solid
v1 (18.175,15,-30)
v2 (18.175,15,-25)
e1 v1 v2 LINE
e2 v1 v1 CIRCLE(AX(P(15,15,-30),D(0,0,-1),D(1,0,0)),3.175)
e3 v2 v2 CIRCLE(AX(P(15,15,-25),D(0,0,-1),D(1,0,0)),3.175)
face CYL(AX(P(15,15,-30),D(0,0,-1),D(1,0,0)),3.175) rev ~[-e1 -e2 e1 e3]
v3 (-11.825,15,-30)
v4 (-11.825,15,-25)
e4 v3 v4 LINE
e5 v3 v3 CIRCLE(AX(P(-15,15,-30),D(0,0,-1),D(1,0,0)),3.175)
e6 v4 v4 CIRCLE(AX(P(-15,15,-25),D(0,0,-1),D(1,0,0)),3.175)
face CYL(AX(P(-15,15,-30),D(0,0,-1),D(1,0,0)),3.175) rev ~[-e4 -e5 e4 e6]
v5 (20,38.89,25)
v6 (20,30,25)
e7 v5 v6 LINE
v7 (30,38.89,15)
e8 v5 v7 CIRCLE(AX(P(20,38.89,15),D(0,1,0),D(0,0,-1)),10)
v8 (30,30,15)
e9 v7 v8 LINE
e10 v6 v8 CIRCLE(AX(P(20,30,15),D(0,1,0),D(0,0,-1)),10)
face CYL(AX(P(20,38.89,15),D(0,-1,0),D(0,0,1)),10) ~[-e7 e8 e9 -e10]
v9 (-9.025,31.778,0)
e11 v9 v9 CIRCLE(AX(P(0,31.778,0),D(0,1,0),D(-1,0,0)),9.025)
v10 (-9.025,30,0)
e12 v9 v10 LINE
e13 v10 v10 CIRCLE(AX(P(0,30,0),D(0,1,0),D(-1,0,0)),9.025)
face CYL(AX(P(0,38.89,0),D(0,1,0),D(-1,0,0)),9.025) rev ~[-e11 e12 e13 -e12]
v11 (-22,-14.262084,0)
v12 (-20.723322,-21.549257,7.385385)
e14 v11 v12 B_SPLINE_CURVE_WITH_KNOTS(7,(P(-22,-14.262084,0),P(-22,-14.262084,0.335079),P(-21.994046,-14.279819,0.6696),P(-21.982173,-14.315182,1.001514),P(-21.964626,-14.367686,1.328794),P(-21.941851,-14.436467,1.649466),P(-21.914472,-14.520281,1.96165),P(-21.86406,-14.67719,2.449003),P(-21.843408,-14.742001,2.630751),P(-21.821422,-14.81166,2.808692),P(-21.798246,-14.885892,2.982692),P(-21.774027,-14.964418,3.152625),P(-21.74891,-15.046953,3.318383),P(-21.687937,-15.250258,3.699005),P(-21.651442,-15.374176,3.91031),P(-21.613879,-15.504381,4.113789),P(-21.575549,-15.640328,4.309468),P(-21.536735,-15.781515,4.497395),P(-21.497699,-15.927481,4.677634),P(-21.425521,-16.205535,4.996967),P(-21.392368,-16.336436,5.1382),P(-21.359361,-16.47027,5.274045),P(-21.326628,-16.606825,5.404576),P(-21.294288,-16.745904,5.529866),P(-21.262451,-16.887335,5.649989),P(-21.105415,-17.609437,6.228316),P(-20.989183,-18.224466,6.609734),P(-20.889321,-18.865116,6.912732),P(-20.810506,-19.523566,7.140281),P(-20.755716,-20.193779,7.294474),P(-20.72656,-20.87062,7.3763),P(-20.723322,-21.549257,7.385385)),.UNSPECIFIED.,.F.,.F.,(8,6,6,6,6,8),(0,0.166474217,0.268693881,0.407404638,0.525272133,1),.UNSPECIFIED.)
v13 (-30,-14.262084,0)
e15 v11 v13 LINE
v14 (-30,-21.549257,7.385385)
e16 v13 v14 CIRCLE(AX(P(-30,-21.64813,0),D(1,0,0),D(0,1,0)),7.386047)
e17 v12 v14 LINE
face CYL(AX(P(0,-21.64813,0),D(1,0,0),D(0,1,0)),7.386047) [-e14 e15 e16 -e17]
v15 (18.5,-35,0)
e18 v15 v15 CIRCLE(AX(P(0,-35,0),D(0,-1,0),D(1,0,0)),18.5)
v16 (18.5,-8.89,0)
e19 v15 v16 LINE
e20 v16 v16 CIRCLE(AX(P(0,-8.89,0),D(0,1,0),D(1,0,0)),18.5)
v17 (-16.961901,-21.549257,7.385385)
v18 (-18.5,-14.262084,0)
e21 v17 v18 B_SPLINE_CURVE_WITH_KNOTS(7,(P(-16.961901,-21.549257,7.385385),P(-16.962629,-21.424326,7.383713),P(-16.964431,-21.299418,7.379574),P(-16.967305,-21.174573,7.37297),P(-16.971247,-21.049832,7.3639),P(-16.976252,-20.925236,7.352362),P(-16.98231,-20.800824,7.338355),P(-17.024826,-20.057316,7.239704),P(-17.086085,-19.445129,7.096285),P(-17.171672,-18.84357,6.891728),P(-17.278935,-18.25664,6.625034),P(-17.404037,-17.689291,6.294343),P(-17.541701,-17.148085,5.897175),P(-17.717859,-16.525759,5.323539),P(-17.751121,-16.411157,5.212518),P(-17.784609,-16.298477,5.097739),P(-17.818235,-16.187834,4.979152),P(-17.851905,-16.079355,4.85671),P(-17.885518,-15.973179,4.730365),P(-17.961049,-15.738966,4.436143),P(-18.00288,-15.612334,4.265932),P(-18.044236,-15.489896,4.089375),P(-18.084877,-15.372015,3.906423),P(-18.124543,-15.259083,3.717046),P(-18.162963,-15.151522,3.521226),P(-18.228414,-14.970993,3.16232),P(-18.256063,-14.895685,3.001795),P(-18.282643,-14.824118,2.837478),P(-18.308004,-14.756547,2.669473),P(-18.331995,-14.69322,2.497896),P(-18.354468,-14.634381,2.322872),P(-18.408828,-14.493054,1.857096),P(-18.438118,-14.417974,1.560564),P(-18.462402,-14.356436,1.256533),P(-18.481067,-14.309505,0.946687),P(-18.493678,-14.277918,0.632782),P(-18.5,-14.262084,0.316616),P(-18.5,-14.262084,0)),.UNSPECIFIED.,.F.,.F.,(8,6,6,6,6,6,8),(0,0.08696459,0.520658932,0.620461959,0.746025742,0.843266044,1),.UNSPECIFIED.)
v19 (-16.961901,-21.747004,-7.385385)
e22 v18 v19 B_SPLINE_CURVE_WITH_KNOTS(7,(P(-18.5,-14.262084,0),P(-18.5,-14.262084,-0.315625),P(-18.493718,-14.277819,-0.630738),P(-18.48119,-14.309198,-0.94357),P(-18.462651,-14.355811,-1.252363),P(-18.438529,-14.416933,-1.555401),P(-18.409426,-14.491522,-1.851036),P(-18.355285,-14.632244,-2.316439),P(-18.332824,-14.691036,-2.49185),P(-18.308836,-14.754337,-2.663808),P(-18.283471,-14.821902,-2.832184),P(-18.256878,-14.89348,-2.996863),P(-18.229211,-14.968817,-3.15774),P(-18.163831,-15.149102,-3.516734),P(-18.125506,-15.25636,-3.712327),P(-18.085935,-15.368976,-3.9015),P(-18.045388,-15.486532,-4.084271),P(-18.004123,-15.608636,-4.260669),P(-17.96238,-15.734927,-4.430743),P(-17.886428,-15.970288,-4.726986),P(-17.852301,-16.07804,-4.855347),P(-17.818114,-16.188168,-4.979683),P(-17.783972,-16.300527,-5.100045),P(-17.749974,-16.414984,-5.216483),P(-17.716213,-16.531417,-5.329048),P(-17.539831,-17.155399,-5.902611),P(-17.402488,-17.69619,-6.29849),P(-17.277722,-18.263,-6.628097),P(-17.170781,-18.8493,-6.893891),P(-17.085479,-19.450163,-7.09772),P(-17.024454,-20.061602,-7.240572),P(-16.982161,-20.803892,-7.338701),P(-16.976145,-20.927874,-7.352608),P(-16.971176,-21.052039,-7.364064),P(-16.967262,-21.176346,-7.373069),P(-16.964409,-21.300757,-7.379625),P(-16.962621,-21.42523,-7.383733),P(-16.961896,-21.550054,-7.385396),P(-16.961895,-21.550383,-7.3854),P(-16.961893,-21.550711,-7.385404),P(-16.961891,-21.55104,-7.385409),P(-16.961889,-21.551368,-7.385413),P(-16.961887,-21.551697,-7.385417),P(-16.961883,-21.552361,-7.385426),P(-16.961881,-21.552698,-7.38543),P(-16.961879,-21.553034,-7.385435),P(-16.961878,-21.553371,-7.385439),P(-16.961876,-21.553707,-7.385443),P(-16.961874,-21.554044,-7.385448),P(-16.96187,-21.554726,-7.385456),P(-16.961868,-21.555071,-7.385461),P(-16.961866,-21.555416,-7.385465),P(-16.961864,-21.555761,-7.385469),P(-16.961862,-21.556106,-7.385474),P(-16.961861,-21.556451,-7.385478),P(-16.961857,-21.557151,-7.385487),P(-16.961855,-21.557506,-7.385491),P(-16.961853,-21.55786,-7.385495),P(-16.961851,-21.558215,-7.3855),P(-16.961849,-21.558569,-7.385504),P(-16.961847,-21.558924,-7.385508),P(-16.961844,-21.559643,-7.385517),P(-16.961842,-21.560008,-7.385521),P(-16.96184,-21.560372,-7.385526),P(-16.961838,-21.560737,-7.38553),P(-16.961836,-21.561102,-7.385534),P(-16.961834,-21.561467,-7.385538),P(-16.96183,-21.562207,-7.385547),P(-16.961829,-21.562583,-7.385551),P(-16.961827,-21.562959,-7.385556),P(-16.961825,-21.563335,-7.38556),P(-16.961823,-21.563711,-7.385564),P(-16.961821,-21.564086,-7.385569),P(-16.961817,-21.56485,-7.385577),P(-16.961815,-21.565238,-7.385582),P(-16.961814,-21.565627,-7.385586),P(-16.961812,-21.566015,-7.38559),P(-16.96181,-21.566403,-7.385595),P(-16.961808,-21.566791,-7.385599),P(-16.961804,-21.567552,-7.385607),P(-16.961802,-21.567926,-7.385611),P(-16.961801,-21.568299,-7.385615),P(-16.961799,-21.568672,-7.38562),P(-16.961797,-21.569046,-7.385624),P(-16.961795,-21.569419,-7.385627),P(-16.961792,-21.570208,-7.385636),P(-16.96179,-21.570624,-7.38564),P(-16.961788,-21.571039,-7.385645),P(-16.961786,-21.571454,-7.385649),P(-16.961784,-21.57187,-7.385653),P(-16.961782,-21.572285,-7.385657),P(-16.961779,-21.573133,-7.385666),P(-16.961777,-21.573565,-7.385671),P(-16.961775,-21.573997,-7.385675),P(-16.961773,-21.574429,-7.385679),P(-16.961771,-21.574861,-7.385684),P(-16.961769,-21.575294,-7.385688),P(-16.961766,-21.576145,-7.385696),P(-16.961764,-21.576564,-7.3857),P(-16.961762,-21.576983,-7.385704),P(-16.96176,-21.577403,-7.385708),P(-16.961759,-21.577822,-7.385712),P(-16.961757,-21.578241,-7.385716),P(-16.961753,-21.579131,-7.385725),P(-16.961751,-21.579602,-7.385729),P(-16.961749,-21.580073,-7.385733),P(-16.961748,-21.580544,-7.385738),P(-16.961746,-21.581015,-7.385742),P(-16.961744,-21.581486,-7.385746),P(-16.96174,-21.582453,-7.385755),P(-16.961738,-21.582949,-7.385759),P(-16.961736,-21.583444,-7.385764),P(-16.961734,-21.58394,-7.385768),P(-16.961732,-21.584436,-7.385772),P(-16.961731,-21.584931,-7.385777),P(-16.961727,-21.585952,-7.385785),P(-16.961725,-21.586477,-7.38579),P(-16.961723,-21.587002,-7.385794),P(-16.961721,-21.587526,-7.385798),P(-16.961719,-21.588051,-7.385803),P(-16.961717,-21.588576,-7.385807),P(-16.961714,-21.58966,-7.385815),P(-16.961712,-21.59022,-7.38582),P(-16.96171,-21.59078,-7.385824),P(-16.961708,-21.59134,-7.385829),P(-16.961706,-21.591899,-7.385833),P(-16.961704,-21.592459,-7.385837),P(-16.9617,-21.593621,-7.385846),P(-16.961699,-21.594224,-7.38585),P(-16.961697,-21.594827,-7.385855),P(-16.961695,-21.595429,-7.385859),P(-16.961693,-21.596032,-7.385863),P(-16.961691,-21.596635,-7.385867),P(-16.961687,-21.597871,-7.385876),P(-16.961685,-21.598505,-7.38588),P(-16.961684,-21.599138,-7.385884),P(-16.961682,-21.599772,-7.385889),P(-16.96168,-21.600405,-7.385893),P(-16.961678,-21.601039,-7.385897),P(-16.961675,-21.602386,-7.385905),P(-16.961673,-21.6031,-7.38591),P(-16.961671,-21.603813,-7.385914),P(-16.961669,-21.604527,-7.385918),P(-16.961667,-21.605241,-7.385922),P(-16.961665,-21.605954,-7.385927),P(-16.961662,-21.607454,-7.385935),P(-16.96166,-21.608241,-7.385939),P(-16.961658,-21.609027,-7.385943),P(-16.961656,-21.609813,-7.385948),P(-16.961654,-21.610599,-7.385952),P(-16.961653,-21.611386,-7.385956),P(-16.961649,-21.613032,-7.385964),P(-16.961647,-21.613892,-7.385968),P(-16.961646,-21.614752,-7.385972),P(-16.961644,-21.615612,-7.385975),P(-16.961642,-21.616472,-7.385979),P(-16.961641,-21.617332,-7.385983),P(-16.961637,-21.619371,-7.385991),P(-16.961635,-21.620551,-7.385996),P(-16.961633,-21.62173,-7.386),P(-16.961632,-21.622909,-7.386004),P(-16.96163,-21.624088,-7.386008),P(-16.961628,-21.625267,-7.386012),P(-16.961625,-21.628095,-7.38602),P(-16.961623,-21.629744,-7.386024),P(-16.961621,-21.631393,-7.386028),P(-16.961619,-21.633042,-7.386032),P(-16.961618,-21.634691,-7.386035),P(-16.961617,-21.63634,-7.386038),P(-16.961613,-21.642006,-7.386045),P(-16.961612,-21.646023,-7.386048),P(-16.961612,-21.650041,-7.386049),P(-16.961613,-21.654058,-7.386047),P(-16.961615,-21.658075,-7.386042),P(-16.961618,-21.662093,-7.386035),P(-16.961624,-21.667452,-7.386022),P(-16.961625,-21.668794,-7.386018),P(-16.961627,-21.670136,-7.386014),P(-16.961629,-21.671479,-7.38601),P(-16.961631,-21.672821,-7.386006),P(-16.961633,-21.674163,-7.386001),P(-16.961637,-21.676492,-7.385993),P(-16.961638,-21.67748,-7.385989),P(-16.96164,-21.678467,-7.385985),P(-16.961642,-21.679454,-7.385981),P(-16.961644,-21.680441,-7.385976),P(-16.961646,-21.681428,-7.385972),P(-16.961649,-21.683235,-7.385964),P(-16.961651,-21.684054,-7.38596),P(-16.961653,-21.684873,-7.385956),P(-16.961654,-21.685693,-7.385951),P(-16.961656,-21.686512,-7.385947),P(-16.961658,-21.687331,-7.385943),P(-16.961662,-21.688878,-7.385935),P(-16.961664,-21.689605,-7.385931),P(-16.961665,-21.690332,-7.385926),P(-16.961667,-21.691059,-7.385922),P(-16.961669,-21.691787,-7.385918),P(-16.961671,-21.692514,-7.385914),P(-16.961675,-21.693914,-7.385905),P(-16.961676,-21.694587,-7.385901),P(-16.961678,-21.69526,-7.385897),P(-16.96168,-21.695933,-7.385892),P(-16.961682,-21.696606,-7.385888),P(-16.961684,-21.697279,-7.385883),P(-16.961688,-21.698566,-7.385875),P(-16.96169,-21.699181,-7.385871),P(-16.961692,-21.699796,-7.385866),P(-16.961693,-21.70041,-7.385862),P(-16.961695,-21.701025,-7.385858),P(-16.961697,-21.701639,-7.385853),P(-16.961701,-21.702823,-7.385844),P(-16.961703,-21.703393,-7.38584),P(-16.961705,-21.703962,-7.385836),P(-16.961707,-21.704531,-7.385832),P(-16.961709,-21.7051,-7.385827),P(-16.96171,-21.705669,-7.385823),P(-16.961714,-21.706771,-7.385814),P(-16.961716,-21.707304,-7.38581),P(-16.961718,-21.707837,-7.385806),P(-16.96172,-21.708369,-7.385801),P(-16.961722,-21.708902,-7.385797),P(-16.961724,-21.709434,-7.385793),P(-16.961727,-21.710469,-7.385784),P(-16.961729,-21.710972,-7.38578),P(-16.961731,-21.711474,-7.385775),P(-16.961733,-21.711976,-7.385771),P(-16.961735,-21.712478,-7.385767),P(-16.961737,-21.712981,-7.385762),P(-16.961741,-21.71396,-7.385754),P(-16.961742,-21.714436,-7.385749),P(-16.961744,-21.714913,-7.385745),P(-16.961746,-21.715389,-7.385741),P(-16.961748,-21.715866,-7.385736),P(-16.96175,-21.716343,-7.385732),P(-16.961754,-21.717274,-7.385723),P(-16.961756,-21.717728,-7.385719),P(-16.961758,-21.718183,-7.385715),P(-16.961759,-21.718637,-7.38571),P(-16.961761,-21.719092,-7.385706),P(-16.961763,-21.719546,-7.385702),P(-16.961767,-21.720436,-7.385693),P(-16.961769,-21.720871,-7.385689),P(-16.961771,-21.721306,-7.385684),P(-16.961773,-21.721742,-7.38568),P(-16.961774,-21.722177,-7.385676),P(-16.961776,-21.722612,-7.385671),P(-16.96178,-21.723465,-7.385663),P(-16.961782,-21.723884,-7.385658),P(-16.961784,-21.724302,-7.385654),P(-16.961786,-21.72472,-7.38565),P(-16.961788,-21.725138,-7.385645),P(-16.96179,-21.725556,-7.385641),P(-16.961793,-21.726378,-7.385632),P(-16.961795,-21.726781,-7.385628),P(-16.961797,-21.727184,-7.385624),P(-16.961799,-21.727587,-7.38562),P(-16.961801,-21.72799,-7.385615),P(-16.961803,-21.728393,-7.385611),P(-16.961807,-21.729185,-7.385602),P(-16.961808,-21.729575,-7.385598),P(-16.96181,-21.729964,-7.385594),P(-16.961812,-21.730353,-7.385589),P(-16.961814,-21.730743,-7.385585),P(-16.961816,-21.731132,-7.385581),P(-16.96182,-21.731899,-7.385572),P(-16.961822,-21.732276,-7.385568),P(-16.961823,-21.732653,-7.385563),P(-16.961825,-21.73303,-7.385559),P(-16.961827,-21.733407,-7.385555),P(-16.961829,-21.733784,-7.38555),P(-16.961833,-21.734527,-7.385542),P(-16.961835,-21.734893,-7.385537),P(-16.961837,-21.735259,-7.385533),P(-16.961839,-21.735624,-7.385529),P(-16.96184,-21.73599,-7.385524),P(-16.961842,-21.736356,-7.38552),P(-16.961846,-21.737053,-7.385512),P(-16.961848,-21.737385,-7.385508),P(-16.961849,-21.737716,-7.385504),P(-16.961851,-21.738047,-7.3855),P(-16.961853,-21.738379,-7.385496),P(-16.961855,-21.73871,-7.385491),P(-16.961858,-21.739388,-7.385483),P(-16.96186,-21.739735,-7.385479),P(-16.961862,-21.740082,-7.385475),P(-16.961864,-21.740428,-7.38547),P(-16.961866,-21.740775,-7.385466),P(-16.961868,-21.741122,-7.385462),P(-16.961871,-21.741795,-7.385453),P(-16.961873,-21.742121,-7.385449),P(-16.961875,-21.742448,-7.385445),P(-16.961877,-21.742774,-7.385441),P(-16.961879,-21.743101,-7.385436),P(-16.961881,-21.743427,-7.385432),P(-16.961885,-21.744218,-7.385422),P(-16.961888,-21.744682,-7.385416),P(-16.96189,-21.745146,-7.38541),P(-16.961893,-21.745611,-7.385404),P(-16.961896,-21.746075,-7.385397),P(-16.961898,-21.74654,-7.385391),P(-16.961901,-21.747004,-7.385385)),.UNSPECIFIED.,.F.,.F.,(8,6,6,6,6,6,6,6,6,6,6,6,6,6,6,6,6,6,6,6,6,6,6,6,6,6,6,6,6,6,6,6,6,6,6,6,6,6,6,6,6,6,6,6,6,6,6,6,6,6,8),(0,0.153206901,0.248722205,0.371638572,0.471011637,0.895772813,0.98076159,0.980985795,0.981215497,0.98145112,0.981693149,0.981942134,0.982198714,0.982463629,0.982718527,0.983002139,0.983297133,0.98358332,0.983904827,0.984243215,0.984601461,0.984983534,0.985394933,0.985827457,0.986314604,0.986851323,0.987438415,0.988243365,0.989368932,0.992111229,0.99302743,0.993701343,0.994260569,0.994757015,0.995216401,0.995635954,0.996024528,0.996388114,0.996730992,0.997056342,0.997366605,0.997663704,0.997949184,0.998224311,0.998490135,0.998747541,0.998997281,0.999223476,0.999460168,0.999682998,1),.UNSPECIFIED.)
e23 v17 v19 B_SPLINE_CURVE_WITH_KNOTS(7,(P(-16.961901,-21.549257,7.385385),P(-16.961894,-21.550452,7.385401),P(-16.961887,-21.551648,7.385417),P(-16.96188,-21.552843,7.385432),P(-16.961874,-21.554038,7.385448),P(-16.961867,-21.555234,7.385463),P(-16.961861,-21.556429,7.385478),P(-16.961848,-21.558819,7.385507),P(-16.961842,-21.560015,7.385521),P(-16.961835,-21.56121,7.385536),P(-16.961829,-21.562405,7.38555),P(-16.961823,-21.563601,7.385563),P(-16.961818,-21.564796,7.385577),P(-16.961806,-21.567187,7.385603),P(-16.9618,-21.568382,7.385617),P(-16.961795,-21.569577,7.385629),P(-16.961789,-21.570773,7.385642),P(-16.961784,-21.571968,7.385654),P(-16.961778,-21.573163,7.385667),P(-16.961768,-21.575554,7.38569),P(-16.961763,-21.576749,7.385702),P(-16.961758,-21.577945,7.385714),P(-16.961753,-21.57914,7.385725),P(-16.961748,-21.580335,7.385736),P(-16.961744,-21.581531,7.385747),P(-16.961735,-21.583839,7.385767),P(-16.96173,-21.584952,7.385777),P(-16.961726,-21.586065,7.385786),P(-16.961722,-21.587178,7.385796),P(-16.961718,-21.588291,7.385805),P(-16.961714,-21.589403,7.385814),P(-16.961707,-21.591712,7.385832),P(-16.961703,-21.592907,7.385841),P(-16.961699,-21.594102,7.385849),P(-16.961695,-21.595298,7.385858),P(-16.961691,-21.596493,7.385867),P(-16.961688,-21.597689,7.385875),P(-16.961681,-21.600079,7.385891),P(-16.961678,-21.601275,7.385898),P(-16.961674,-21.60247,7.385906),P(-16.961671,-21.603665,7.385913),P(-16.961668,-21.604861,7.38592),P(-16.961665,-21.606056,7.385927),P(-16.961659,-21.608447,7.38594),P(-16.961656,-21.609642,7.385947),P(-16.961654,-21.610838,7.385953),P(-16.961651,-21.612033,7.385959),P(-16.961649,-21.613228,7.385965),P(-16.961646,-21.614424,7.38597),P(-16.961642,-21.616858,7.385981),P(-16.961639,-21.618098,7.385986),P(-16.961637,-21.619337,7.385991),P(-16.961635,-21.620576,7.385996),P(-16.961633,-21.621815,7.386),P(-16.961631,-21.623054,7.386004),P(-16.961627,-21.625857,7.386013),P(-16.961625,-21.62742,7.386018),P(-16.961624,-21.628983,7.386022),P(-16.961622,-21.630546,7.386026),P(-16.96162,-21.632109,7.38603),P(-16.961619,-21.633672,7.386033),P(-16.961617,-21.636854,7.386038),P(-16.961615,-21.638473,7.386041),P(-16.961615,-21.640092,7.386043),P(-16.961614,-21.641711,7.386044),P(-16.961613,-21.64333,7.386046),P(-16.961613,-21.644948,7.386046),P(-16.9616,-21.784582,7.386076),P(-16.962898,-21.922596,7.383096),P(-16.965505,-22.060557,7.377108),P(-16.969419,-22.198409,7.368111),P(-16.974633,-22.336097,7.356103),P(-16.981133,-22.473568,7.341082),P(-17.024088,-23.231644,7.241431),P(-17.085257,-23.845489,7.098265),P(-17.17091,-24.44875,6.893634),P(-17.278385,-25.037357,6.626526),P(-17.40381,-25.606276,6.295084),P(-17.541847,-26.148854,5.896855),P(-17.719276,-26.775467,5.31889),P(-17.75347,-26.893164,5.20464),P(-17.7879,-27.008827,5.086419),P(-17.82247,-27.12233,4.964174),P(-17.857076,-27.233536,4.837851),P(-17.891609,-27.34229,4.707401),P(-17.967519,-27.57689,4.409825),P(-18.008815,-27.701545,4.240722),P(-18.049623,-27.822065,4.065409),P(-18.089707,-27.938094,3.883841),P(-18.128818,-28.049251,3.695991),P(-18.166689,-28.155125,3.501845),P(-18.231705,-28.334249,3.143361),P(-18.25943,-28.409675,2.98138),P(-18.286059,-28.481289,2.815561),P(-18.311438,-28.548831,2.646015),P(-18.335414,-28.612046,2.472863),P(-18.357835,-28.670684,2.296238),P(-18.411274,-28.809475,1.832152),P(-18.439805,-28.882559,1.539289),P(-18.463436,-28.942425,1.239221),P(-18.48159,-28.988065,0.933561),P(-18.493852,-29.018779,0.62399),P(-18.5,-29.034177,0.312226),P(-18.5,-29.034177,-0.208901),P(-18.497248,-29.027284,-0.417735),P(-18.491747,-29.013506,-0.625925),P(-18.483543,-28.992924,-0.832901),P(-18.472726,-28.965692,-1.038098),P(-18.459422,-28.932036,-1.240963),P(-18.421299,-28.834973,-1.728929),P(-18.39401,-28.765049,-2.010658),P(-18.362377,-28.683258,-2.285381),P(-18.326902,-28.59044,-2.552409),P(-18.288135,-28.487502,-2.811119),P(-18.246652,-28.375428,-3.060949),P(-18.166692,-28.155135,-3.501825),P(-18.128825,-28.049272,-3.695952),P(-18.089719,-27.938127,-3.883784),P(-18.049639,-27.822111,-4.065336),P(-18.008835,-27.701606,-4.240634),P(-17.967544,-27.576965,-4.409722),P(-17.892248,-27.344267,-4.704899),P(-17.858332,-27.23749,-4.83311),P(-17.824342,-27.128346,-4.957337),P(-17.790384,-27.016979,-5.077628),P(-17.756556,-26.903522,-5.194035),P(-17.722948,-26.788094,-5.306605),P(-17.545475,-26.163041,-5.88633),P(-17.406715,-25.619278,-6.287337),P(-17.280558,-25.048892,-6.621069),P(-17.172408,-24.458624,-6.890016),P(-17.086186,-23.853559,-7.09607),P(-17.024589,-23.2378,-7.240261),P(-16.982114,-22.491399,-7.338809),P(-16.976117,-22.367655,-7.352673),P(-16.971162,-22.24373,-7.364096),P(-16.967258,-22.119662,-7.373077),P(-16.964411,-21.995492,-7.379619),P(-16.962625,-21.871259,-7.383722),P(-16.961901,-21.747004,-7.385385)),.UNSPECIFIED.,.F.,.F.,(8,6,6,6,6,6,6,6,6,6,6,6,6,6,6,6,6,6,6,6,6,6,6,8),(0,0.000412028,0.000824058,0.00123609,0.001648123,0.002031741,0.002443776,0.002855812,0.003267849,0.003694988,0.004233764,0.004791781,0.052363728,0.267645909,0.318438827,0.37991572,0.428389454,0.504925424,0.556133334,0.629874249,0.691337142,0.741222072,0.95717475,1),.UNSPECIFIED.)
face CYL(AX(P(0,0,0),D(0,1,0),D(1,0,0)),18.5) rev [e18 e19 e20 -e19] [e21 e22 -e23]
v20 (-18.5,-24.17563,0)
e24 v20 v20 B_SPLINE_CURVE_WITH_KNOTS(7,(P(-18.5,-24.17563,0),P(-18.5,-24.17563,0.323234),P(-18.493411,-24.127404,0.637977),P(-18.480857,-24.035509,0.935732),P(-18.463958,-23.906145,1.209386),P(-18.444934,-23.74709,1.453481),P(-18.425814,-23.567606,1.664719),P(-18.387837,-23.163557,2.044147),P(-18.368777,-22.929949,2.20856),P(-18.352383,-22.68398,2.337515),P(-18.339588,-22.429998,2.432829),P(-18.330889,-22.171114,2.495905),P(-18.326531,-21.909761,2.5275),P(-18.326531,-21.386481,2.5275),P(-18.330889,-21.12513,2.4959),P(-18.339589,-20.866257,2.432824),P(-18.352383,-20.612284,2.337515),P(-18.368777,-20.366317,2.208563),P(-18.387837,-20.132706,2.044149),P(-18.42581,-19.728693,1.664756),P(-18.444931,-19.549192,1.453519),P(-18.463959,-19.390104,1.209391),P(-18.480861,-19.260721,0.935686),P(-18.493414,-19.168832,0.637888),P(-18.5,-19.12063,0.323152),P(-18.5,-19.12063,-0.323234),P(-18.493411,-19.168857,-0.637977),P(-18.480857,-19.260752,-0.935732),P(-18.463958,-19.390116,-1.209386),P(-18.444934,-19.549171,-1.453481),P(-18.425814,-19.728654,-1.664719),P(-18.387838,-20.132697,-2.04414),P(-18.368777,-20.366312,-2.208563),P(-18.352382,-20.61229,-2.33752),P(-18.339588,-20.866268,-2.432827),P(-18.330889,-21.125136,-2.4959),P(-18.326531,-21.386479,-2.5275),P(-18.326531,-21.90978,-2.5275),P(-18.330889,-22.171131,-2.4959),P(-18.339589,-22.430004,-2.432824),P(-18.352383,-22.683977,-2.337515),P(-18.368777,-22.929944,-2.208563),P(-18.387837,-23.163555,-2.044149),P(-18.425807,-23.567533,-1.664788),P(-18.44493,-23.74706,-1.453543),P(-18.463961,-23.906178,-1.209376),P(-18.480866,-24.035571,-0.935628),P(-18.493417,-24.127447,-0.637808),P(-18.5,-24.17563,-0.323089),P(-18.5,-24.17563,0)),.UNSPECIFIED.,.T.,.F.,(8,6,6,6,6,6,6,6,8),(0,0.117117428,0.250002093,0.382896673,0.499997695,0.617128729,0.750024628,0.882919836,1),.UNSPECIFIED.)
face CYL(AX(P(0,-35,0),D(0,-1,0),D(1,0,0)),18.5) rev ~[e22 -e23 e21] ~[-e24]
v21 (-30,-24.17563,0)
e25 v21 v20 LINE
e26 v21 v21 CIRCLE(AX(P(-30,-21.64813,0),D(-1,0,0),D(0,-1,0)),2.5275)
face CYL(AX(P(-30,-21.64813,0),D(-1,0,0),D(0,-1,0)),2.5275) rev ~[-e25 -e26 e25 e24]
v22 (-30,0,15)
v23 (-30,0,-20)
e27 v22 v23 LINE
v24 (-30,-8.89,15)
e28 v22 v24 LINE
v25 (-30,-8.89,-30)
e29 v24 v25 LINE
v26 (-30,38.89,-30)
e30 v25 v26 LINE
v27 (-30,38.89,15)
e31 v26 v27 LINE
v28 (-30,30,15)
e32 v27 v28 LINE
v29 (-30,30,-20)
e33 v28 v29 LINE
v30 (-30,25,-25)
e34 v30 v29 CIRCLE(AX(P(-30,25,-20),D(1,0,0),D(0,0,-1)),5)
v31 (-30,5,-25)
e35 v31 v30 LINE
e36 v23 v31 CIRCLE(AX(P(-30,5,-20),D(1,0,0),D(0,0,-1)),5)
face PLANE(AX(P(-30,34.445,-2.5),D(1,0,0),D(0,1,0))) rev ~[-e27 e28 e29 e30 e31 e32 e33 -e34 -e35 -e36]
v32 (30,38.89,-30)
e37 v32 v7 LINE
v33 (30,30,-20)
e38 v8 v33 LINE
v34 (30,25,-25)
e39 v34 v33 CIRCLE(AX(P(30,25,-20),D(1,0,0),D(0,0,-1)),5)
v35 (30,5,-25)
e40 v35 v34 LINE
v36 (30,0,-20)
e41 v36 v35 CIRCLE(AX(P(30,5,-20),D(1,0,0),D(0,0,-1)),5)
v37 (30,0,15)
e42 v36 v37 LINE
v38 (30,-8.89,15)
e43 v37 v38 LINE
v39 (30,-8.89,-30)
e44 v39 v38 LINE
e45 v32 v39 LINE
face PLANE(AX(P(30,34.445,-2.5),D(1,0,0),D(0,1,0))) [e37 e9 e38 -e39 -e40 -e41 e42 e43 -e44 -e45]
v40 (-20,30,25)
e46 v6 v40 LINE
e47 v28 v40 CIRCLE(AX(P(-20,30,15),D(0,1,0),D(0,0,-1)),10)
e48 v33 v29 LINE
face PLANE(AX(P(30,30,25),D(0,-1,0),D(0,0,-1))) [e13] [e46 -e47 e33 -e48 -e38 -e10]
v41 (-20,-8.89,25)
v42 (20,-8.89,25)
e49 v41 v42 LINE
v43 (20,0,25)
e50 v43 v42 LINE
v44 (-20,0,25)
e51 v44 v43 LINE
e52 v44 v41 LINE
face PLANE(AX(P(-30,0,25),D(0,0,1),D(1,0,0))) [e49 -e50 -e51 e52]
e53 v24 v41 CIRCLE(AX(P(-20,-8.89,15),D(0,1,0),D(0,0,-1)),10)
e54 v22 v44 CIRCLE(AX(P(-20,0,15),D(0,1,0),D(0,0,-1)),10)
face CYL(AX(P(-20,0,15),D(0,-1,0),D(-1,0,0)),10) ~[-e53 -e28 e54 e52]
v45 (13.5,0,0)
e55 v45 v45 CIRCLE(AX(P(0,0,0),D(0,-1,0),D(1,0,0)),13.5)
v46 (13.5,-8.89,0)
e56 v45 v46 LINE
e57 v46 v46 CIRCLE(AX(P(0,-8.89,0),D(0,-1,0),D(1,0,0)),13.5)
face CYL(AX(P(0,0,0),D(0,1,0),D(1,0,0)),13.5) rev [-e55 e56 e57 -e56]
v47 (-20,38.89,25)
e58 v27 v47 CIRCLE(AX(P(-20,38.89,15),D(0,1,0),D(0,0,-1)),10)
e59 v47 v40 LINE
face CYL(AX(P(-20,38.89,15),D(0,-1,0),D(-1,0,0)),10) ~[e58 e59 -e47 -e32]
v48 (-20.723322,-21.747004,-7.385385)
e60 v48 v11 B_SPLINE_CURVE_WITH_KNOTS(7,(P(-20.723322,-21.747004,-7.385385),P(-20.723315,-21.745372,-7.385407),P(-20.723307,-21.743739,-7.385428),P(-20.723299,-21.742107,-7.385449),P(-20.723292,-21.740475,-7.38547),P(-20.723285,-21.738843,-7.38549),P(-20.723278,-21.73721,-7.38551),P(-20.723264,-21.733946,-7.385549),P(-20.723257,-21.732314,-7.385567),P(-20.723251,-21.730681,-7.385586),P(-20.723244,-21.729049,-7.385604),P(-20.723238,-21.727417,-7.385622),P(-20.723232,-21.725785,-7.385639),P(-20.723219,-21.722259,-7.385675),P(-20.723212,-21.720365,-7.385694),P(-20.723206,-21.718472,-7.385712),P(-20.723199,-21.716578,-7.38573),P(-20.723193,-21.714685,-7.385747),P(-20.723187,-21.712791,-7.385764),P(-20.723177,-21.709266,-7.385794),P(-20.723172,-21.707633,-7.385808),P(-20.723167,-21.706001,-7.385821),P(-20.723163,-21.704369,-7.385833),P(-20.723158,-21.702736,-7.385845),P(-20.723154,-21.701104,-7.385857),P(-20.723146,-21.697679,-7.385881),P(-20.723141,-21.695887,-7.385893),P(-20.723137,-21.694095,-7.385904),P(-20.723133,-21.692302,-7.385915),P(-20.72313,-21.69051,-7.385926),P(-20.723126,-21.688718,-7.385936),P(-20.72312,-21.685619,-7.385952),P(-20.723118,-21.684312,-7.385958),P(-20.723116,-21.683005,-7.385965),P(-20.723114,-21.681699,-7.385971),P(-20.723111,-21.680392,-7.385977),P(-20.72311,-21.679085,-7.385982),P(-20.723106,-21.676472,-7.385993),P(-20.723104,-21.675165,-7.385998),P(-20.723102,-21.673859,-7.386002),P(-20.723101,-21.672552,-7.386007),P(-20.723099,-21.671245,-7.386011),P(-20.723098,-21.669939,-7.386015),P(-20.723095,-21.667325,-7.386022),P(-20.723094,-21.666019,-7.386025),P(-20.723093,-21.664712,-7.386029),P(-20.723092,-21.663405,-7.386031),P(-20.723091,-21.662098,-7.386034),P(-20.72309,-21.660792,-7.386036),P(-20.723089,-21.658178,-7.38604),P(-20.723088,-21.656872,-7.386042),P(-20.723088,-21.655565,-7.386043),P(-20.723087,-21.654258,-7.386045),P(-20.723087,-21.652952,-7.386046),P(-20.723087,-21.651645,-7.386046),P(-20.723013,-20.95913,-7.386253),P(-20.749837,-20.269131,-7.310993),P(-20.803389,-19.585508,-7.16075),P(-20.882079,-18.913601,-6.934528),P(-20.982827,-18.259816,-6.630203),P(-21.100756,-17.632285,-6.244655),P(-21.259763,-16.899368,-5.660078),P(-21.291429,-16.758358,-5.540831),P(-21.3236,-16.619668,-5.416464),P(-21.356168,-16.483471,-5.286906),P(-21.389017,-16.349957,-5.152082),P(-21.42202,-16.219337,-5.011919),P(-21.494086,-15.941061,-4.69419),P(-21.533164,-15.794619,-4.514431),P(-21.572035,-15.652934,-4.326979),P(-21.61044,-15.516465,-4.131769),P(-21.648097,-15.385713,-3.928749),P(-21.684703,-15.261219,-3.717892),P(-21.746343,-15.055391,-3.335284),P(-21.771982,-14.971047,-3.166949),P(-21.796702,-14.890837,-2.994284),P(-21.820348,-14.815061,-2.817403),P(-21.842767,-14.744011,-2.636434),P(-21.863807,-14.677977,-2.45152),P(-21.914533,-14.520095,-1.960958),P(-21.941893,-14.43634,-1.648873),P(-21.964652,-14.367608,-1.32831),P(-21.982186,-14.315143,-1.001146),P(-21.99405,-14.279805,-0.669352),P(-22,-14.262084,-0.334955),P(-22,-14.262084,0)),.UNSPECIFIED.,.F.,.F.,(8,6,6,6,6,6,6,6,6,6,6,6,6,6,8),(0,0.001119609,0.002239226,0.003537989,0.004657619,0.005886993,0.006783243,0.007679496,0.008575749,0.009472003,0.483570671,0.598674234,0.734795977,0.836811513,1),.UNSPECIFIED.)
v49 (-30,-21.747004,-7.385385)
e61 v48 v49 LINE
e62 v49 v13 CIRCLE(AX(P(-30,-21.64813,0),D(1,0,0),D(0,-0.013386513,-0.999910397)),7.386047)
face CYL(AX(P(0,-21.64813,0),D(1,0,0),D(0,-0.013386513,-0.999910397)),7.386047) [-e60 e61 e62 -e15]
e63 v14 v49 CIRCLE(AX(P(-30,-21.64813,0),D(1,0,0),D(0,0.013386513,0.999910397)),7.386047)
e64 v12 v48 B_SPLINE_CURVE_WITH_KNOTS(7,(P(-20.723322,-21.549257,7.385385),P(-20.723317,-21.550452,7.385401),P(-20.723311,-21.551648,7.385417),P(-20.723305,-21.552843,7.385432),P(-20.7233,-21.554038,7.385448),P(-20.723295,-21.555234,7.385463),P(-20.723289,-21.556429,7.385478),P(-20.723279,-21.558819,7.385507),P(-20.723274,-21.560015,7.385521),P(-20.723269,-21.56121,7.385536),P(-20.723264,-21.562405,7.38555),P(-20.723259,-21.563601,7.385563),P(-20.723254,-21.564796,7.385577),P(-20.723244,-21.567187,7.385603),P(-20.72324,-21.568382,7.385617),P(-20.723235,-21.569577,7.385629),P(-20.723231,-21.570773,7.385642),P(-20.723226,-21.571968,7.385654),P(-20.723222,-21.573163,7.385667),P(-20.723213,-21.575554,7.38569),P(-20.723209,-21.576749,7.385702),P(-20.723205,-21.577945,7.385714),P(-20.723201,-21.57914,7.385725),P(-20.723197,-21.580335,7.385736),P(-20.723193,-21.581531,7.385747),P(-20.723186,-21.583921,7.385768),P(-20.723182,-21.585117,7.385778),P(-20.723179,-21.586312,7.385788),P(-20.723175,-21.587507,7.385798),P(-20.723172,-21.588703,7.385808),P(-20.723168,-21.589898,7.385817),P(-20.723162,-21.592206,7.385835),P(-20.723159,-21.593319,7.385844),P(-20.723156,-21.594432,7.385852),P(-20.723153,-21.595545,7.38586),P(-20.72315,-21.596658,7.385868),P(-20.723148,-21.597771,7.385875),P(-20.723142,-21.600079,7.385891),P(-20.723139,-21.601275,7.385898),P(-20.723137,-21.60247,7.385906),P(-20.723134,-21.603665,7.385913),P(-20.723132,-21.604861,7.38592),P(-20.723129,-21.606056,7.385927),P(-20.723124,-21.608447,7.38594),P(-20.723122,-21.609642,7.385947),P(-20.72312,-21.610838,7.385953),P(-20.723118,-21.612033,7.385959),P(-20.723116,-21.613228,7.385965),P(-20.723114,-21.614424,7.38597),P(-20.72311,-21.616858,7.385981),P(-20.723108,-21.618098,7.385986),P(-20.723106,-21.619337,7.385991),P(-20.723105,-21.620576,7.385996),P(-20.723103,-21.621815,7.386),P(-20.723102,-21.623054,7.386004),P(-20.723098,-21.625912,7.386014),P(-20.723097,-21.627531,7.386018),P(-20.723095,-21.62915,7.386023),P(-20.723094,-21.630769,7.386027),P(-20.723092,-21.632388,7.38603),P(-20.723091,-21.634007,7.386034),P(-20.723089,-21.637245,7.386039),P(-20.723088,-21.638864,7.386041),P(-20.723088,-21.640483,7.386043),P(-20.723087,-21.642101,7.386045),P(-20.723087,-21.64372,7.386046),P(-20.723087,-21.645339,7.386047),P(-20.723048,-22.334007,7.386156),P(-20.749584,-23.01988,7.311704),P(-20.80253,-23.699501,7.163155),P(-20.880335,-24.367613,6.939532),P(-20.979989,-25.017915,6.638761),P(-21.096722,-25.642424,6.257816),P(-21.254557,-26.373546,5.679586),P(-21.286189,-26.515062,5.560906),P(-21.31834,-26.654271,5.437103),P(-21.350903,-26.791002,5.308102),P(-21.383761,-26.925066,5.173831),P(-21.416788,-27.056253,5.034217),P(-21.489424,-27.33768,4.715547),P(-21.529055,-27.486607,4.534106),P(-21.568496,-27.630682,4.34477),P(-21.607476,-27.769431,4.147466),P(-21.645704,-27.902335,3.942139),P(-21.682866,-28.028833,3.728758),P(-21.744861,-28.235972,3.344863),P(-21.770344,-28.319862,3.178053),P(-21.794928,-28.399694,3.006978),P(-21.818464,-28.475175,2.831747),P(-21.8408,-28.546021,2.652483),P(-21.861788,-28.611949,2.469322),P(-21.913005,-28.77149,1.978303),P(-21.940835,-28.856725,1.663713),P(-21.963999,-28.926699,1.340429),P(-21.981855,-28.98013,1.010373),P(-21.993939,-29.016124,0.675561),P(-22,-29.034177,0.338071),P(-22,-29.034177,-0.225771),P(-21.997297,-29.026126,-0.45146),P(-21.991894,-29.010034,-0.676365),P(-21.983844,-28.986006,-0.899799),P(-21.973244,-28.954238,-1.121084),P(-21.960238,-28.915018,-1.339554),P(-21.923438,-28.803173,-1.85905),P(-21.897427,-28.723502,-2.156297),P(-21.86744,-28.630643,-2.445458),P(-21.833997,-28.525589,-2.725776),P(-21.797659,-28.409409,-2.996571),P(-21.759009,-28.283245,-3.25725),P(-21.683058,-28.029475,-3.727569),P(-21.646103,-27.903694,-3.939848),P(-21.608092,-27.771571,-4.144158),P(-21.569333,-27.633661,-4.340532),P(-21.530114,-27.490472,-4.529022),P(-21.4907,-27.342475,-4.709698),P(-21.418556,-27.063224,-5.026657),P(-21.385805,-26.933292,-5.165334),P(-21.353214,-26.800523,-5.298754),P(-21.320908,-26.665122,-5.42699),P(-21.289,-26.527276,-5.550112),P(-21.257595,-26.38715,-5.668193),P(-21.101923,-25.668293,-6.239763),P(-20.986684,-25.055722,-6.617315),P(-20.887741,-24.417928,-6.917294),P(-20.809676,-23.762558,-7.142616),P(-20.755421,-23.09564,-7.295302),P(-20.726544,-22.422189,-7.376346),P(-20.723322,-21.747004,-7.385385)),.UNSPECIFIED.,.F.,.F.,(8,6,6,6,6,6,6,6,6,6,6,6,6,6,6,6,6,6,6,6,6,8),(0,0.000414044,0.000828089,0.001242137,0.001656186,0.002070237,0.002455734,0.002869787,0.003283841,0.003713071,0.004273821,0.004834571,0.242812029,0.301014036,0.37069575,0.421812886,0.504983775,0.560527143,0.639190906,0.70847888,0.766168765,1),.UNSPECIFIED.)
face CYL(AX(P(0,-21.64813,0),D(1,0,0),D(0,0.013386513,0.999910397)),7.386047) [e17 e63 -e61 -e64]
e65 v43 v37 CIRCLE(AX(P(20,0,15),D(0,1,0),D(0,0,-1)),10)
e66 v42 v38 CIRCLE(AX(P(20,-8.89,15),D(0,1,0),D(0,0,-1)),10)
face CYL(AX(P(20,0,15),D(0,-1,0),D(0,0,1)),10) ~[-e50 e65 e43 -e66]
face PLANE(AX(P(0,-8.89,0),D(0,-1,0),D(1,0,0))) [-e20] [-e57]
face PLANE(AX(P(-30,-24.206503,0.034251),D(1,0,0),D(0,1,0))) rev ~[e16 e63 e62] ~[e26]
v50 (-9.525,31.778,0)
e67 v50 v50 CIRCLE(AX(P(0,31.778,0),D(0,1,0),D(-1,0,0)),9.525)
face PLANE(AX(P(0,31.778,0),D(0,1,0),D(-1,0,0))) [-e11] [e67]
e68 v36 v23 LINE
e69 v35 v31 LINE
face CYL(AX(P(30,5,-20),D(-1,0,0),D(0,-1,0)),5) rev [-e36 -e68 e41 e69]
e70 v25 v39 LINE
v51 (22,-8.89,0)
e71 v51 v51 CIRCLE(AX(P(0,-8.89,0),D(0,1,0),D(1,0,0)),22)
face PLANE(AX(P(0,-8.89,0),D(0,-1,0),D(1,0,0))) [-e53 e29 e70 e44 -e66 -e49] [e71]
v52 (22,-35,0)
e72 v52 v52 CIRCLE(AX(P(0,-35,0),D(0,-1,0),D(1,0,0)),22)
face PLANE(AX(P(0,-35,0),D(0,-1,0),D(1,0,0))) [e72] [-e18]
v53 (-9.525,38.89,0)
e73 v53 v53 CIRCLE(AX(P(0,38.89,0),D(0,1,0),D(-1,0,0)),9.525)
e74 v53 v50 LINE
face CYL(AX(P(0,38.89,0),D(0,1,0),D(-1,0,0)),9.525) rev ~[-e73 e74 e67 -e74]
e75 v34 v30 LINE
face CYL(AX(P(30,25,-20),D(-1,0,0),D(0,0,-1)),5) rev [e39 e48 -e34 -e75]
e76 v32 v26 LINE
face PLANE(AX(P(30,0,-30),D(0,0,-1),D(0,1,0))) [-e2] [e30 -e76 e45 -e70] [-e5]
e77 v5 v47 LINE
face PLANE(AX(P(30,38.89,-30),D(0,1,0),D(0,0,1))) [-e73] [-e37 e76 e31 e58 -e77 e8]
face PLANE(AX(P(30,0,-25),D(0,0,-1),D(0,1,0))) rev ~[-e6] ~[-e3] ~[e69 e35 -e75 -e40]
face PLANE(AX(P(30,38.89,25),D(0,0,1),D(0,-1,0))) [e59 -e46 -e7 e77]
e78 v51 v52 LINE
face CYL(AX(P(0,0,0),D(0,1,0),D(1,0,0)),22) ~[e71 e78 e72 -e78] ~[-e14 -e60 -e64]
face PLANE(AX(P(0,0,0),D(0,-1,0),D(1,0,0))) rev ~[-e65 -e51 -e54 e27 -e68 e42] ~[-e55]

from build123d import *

# Parameters (mm, degrees)
F0_W      = 60
F0_H      = 50
F0_R      = 22
F0_R_2    = 18.5
F0_R_3    = 13.5
F0_H_2    = 5
F1_DEPTH  = 8.89
F2_DEPTH  = 35
F3_W      = 30
F3_H      = 5
F4_DEPTH  = 60
F5_R      = 5
F6_R      = 9.025
F7_DEPTH  = 7.112
F8_DEPTH  = 25
F6_R_2    = 9.525
F9_DEPTH  = 7.112
F10_R     = 10
F12_DEPTH = 30
F13_R     = 18.5
F14_DEPTH = 22
F15_R     = 2.5275
F16_DEPTH = 13
F17_R     = 3.175
F18_DEPTH = 25


with BuildPart() as f1:
    # F0 (on Front) → F1 (new body)
    with BuildSketch(Plane.XZ):
        Rectangle(F0_W, F0_H)
        Circle(F0_R, mode=Mode.SUBTRACT)
        Circle(F0_R)
        Circle(F0_R_2, mode=Mode.SUBTRACT)
        Circle(F0_R_2)
        Circle(F0_R_3, mode=Mode.SUBTRACT)
        with Locations((0, -27.5)):
            Rectangle(F0_W, F0_H_2)
    extrude(amount=F1_DEPTH)

    # F0 (on Front) → F2 (join)
    with BuildSketch(Plane.XZ):
        Circle(F0_R)
        Circle(F0_R_2, mode=Mode.SUBTRACT)
    extrude(amount=F2_DEPTH)

    # F3 (on face) → F4 (join)
    with BuildSketch(Plane.YZ.offset(30)):
        Polygon((30, -25), (30, -30), (38.89, -30), (38.89, 25), (30, 25), align=None)
        with Locations((15, -27.5)):
            Rectangle(F3_W, F3_H)
    extrude(amount=-F4_DEPTH)

    # F5
    f5_edges = [f1.edges().sort_by_distance(p)[0] for p in [
        (0, 30, -25),
        (0, 0, -25),
    ]]
    fillet(f5_edges, radius=F5_R)

    # F6 (on face) → F7 (cut)
    with BuildSketch(Plane(origin=(0, 38.89, 0), x_dir=(-1, 0, 0), z_dir=(0, 1, 0))):
        Circle(F6_R)
    extrude(amount=-F7_DEPTH, mode=Mode.SUBTRACT)

    # F6 (on face) → F8 (cut)
    with BuildSketch(Plane(origin=(0, 38.89, 0), x_dir=(-1, 0, 0), z_dir=(0, 1, 0))):
        Circle(F6_R)
    extrude(amount=-F8_DEPTH, mode=Mode.SUBTRACT)

    # F6 (on face) → F9 (cut)
    with BuildSketch(Plane(origin=(0, 38.89, 0), x_dir=(-1, 0, 0), z_dir=(0, 1, 0))):
        Circle(F6_R_2)
        Circle(F6_R, mode=Mode.SUBTRACT)
    extrude(amount=-F9_DEPTH, mode=Mode.SUBTRACT)

    # F10
    f10_edges = [f1.edges().sort_by_distance(p)[0] for p in [
        (30, -4.445, 25),
        (30, 34.445, 25),
        (-30, -4.445, 25),
        (-30, 34.445, 25),
    ]]
    fillet(f10_edges, radius=F10_R)

    # F11 (on Right) → F12 (join)
    with BuildSketch(Plane.YZ):
        with BuildLine():
            ThreePointArc((-21.5492570434, 7.385385089), (-29.0335155473, 0.0988734149), (-21.7470038732, -7.385385089))
            Line((-21.7470038732, -7.385385089), (-21.5492570434, 7.385385089))
        make_face()
        with BuildLine():
            Line((-21.5492570434, 7.385385089), (-21.7470038732, -7.385385089))
            ThreePointArc((-21.7470038732, -7.385385089), (-16.4604814154, -5.2575646712), (-14.2620835546, 0))
            ThreePointArc((-14.2620835546, 0), (-16.3905657871, 5.1876490429), (-21.5492570434, 7.385385089))
        make_face()
    extrude(amount=-F12_DEPTH)

    # F13 (on face) → F14 (cut)
    with BuildSketch(Plane.XZ.offset(35)):
        Circle(F13_R)
    extrude(amount=-F14_DEPTH, mode=Mode.SUBTRACT)

    # F15 (on face) → F16 (cut)
    with BuildSketch(Plane(origin=(-30, 0, 0), x_dir=(0, -1, 0), z_dir=(-1, 0, 0))):
        with Locations((21.6481304583, 0)):
            Circle(F15_R)
    extrude(amount=-F16_DEPTH, mode=Mode.SUBTRACT)

    # F17 (on face) → F18 (cut)
    with BuildSketch(Plane(origin=(0, 0, -30), x_dir=(1, 0, 0), z_dir=(0, 0, -1))):
        with Locations((-15, -15)):
            Circle(F17_R)
        with Locations((15, -15)):
            Circle(F17_R)
    extrude(amount=-F18_DEPTH, mode=Mode.SUBTRACT)


solid = f1.part
